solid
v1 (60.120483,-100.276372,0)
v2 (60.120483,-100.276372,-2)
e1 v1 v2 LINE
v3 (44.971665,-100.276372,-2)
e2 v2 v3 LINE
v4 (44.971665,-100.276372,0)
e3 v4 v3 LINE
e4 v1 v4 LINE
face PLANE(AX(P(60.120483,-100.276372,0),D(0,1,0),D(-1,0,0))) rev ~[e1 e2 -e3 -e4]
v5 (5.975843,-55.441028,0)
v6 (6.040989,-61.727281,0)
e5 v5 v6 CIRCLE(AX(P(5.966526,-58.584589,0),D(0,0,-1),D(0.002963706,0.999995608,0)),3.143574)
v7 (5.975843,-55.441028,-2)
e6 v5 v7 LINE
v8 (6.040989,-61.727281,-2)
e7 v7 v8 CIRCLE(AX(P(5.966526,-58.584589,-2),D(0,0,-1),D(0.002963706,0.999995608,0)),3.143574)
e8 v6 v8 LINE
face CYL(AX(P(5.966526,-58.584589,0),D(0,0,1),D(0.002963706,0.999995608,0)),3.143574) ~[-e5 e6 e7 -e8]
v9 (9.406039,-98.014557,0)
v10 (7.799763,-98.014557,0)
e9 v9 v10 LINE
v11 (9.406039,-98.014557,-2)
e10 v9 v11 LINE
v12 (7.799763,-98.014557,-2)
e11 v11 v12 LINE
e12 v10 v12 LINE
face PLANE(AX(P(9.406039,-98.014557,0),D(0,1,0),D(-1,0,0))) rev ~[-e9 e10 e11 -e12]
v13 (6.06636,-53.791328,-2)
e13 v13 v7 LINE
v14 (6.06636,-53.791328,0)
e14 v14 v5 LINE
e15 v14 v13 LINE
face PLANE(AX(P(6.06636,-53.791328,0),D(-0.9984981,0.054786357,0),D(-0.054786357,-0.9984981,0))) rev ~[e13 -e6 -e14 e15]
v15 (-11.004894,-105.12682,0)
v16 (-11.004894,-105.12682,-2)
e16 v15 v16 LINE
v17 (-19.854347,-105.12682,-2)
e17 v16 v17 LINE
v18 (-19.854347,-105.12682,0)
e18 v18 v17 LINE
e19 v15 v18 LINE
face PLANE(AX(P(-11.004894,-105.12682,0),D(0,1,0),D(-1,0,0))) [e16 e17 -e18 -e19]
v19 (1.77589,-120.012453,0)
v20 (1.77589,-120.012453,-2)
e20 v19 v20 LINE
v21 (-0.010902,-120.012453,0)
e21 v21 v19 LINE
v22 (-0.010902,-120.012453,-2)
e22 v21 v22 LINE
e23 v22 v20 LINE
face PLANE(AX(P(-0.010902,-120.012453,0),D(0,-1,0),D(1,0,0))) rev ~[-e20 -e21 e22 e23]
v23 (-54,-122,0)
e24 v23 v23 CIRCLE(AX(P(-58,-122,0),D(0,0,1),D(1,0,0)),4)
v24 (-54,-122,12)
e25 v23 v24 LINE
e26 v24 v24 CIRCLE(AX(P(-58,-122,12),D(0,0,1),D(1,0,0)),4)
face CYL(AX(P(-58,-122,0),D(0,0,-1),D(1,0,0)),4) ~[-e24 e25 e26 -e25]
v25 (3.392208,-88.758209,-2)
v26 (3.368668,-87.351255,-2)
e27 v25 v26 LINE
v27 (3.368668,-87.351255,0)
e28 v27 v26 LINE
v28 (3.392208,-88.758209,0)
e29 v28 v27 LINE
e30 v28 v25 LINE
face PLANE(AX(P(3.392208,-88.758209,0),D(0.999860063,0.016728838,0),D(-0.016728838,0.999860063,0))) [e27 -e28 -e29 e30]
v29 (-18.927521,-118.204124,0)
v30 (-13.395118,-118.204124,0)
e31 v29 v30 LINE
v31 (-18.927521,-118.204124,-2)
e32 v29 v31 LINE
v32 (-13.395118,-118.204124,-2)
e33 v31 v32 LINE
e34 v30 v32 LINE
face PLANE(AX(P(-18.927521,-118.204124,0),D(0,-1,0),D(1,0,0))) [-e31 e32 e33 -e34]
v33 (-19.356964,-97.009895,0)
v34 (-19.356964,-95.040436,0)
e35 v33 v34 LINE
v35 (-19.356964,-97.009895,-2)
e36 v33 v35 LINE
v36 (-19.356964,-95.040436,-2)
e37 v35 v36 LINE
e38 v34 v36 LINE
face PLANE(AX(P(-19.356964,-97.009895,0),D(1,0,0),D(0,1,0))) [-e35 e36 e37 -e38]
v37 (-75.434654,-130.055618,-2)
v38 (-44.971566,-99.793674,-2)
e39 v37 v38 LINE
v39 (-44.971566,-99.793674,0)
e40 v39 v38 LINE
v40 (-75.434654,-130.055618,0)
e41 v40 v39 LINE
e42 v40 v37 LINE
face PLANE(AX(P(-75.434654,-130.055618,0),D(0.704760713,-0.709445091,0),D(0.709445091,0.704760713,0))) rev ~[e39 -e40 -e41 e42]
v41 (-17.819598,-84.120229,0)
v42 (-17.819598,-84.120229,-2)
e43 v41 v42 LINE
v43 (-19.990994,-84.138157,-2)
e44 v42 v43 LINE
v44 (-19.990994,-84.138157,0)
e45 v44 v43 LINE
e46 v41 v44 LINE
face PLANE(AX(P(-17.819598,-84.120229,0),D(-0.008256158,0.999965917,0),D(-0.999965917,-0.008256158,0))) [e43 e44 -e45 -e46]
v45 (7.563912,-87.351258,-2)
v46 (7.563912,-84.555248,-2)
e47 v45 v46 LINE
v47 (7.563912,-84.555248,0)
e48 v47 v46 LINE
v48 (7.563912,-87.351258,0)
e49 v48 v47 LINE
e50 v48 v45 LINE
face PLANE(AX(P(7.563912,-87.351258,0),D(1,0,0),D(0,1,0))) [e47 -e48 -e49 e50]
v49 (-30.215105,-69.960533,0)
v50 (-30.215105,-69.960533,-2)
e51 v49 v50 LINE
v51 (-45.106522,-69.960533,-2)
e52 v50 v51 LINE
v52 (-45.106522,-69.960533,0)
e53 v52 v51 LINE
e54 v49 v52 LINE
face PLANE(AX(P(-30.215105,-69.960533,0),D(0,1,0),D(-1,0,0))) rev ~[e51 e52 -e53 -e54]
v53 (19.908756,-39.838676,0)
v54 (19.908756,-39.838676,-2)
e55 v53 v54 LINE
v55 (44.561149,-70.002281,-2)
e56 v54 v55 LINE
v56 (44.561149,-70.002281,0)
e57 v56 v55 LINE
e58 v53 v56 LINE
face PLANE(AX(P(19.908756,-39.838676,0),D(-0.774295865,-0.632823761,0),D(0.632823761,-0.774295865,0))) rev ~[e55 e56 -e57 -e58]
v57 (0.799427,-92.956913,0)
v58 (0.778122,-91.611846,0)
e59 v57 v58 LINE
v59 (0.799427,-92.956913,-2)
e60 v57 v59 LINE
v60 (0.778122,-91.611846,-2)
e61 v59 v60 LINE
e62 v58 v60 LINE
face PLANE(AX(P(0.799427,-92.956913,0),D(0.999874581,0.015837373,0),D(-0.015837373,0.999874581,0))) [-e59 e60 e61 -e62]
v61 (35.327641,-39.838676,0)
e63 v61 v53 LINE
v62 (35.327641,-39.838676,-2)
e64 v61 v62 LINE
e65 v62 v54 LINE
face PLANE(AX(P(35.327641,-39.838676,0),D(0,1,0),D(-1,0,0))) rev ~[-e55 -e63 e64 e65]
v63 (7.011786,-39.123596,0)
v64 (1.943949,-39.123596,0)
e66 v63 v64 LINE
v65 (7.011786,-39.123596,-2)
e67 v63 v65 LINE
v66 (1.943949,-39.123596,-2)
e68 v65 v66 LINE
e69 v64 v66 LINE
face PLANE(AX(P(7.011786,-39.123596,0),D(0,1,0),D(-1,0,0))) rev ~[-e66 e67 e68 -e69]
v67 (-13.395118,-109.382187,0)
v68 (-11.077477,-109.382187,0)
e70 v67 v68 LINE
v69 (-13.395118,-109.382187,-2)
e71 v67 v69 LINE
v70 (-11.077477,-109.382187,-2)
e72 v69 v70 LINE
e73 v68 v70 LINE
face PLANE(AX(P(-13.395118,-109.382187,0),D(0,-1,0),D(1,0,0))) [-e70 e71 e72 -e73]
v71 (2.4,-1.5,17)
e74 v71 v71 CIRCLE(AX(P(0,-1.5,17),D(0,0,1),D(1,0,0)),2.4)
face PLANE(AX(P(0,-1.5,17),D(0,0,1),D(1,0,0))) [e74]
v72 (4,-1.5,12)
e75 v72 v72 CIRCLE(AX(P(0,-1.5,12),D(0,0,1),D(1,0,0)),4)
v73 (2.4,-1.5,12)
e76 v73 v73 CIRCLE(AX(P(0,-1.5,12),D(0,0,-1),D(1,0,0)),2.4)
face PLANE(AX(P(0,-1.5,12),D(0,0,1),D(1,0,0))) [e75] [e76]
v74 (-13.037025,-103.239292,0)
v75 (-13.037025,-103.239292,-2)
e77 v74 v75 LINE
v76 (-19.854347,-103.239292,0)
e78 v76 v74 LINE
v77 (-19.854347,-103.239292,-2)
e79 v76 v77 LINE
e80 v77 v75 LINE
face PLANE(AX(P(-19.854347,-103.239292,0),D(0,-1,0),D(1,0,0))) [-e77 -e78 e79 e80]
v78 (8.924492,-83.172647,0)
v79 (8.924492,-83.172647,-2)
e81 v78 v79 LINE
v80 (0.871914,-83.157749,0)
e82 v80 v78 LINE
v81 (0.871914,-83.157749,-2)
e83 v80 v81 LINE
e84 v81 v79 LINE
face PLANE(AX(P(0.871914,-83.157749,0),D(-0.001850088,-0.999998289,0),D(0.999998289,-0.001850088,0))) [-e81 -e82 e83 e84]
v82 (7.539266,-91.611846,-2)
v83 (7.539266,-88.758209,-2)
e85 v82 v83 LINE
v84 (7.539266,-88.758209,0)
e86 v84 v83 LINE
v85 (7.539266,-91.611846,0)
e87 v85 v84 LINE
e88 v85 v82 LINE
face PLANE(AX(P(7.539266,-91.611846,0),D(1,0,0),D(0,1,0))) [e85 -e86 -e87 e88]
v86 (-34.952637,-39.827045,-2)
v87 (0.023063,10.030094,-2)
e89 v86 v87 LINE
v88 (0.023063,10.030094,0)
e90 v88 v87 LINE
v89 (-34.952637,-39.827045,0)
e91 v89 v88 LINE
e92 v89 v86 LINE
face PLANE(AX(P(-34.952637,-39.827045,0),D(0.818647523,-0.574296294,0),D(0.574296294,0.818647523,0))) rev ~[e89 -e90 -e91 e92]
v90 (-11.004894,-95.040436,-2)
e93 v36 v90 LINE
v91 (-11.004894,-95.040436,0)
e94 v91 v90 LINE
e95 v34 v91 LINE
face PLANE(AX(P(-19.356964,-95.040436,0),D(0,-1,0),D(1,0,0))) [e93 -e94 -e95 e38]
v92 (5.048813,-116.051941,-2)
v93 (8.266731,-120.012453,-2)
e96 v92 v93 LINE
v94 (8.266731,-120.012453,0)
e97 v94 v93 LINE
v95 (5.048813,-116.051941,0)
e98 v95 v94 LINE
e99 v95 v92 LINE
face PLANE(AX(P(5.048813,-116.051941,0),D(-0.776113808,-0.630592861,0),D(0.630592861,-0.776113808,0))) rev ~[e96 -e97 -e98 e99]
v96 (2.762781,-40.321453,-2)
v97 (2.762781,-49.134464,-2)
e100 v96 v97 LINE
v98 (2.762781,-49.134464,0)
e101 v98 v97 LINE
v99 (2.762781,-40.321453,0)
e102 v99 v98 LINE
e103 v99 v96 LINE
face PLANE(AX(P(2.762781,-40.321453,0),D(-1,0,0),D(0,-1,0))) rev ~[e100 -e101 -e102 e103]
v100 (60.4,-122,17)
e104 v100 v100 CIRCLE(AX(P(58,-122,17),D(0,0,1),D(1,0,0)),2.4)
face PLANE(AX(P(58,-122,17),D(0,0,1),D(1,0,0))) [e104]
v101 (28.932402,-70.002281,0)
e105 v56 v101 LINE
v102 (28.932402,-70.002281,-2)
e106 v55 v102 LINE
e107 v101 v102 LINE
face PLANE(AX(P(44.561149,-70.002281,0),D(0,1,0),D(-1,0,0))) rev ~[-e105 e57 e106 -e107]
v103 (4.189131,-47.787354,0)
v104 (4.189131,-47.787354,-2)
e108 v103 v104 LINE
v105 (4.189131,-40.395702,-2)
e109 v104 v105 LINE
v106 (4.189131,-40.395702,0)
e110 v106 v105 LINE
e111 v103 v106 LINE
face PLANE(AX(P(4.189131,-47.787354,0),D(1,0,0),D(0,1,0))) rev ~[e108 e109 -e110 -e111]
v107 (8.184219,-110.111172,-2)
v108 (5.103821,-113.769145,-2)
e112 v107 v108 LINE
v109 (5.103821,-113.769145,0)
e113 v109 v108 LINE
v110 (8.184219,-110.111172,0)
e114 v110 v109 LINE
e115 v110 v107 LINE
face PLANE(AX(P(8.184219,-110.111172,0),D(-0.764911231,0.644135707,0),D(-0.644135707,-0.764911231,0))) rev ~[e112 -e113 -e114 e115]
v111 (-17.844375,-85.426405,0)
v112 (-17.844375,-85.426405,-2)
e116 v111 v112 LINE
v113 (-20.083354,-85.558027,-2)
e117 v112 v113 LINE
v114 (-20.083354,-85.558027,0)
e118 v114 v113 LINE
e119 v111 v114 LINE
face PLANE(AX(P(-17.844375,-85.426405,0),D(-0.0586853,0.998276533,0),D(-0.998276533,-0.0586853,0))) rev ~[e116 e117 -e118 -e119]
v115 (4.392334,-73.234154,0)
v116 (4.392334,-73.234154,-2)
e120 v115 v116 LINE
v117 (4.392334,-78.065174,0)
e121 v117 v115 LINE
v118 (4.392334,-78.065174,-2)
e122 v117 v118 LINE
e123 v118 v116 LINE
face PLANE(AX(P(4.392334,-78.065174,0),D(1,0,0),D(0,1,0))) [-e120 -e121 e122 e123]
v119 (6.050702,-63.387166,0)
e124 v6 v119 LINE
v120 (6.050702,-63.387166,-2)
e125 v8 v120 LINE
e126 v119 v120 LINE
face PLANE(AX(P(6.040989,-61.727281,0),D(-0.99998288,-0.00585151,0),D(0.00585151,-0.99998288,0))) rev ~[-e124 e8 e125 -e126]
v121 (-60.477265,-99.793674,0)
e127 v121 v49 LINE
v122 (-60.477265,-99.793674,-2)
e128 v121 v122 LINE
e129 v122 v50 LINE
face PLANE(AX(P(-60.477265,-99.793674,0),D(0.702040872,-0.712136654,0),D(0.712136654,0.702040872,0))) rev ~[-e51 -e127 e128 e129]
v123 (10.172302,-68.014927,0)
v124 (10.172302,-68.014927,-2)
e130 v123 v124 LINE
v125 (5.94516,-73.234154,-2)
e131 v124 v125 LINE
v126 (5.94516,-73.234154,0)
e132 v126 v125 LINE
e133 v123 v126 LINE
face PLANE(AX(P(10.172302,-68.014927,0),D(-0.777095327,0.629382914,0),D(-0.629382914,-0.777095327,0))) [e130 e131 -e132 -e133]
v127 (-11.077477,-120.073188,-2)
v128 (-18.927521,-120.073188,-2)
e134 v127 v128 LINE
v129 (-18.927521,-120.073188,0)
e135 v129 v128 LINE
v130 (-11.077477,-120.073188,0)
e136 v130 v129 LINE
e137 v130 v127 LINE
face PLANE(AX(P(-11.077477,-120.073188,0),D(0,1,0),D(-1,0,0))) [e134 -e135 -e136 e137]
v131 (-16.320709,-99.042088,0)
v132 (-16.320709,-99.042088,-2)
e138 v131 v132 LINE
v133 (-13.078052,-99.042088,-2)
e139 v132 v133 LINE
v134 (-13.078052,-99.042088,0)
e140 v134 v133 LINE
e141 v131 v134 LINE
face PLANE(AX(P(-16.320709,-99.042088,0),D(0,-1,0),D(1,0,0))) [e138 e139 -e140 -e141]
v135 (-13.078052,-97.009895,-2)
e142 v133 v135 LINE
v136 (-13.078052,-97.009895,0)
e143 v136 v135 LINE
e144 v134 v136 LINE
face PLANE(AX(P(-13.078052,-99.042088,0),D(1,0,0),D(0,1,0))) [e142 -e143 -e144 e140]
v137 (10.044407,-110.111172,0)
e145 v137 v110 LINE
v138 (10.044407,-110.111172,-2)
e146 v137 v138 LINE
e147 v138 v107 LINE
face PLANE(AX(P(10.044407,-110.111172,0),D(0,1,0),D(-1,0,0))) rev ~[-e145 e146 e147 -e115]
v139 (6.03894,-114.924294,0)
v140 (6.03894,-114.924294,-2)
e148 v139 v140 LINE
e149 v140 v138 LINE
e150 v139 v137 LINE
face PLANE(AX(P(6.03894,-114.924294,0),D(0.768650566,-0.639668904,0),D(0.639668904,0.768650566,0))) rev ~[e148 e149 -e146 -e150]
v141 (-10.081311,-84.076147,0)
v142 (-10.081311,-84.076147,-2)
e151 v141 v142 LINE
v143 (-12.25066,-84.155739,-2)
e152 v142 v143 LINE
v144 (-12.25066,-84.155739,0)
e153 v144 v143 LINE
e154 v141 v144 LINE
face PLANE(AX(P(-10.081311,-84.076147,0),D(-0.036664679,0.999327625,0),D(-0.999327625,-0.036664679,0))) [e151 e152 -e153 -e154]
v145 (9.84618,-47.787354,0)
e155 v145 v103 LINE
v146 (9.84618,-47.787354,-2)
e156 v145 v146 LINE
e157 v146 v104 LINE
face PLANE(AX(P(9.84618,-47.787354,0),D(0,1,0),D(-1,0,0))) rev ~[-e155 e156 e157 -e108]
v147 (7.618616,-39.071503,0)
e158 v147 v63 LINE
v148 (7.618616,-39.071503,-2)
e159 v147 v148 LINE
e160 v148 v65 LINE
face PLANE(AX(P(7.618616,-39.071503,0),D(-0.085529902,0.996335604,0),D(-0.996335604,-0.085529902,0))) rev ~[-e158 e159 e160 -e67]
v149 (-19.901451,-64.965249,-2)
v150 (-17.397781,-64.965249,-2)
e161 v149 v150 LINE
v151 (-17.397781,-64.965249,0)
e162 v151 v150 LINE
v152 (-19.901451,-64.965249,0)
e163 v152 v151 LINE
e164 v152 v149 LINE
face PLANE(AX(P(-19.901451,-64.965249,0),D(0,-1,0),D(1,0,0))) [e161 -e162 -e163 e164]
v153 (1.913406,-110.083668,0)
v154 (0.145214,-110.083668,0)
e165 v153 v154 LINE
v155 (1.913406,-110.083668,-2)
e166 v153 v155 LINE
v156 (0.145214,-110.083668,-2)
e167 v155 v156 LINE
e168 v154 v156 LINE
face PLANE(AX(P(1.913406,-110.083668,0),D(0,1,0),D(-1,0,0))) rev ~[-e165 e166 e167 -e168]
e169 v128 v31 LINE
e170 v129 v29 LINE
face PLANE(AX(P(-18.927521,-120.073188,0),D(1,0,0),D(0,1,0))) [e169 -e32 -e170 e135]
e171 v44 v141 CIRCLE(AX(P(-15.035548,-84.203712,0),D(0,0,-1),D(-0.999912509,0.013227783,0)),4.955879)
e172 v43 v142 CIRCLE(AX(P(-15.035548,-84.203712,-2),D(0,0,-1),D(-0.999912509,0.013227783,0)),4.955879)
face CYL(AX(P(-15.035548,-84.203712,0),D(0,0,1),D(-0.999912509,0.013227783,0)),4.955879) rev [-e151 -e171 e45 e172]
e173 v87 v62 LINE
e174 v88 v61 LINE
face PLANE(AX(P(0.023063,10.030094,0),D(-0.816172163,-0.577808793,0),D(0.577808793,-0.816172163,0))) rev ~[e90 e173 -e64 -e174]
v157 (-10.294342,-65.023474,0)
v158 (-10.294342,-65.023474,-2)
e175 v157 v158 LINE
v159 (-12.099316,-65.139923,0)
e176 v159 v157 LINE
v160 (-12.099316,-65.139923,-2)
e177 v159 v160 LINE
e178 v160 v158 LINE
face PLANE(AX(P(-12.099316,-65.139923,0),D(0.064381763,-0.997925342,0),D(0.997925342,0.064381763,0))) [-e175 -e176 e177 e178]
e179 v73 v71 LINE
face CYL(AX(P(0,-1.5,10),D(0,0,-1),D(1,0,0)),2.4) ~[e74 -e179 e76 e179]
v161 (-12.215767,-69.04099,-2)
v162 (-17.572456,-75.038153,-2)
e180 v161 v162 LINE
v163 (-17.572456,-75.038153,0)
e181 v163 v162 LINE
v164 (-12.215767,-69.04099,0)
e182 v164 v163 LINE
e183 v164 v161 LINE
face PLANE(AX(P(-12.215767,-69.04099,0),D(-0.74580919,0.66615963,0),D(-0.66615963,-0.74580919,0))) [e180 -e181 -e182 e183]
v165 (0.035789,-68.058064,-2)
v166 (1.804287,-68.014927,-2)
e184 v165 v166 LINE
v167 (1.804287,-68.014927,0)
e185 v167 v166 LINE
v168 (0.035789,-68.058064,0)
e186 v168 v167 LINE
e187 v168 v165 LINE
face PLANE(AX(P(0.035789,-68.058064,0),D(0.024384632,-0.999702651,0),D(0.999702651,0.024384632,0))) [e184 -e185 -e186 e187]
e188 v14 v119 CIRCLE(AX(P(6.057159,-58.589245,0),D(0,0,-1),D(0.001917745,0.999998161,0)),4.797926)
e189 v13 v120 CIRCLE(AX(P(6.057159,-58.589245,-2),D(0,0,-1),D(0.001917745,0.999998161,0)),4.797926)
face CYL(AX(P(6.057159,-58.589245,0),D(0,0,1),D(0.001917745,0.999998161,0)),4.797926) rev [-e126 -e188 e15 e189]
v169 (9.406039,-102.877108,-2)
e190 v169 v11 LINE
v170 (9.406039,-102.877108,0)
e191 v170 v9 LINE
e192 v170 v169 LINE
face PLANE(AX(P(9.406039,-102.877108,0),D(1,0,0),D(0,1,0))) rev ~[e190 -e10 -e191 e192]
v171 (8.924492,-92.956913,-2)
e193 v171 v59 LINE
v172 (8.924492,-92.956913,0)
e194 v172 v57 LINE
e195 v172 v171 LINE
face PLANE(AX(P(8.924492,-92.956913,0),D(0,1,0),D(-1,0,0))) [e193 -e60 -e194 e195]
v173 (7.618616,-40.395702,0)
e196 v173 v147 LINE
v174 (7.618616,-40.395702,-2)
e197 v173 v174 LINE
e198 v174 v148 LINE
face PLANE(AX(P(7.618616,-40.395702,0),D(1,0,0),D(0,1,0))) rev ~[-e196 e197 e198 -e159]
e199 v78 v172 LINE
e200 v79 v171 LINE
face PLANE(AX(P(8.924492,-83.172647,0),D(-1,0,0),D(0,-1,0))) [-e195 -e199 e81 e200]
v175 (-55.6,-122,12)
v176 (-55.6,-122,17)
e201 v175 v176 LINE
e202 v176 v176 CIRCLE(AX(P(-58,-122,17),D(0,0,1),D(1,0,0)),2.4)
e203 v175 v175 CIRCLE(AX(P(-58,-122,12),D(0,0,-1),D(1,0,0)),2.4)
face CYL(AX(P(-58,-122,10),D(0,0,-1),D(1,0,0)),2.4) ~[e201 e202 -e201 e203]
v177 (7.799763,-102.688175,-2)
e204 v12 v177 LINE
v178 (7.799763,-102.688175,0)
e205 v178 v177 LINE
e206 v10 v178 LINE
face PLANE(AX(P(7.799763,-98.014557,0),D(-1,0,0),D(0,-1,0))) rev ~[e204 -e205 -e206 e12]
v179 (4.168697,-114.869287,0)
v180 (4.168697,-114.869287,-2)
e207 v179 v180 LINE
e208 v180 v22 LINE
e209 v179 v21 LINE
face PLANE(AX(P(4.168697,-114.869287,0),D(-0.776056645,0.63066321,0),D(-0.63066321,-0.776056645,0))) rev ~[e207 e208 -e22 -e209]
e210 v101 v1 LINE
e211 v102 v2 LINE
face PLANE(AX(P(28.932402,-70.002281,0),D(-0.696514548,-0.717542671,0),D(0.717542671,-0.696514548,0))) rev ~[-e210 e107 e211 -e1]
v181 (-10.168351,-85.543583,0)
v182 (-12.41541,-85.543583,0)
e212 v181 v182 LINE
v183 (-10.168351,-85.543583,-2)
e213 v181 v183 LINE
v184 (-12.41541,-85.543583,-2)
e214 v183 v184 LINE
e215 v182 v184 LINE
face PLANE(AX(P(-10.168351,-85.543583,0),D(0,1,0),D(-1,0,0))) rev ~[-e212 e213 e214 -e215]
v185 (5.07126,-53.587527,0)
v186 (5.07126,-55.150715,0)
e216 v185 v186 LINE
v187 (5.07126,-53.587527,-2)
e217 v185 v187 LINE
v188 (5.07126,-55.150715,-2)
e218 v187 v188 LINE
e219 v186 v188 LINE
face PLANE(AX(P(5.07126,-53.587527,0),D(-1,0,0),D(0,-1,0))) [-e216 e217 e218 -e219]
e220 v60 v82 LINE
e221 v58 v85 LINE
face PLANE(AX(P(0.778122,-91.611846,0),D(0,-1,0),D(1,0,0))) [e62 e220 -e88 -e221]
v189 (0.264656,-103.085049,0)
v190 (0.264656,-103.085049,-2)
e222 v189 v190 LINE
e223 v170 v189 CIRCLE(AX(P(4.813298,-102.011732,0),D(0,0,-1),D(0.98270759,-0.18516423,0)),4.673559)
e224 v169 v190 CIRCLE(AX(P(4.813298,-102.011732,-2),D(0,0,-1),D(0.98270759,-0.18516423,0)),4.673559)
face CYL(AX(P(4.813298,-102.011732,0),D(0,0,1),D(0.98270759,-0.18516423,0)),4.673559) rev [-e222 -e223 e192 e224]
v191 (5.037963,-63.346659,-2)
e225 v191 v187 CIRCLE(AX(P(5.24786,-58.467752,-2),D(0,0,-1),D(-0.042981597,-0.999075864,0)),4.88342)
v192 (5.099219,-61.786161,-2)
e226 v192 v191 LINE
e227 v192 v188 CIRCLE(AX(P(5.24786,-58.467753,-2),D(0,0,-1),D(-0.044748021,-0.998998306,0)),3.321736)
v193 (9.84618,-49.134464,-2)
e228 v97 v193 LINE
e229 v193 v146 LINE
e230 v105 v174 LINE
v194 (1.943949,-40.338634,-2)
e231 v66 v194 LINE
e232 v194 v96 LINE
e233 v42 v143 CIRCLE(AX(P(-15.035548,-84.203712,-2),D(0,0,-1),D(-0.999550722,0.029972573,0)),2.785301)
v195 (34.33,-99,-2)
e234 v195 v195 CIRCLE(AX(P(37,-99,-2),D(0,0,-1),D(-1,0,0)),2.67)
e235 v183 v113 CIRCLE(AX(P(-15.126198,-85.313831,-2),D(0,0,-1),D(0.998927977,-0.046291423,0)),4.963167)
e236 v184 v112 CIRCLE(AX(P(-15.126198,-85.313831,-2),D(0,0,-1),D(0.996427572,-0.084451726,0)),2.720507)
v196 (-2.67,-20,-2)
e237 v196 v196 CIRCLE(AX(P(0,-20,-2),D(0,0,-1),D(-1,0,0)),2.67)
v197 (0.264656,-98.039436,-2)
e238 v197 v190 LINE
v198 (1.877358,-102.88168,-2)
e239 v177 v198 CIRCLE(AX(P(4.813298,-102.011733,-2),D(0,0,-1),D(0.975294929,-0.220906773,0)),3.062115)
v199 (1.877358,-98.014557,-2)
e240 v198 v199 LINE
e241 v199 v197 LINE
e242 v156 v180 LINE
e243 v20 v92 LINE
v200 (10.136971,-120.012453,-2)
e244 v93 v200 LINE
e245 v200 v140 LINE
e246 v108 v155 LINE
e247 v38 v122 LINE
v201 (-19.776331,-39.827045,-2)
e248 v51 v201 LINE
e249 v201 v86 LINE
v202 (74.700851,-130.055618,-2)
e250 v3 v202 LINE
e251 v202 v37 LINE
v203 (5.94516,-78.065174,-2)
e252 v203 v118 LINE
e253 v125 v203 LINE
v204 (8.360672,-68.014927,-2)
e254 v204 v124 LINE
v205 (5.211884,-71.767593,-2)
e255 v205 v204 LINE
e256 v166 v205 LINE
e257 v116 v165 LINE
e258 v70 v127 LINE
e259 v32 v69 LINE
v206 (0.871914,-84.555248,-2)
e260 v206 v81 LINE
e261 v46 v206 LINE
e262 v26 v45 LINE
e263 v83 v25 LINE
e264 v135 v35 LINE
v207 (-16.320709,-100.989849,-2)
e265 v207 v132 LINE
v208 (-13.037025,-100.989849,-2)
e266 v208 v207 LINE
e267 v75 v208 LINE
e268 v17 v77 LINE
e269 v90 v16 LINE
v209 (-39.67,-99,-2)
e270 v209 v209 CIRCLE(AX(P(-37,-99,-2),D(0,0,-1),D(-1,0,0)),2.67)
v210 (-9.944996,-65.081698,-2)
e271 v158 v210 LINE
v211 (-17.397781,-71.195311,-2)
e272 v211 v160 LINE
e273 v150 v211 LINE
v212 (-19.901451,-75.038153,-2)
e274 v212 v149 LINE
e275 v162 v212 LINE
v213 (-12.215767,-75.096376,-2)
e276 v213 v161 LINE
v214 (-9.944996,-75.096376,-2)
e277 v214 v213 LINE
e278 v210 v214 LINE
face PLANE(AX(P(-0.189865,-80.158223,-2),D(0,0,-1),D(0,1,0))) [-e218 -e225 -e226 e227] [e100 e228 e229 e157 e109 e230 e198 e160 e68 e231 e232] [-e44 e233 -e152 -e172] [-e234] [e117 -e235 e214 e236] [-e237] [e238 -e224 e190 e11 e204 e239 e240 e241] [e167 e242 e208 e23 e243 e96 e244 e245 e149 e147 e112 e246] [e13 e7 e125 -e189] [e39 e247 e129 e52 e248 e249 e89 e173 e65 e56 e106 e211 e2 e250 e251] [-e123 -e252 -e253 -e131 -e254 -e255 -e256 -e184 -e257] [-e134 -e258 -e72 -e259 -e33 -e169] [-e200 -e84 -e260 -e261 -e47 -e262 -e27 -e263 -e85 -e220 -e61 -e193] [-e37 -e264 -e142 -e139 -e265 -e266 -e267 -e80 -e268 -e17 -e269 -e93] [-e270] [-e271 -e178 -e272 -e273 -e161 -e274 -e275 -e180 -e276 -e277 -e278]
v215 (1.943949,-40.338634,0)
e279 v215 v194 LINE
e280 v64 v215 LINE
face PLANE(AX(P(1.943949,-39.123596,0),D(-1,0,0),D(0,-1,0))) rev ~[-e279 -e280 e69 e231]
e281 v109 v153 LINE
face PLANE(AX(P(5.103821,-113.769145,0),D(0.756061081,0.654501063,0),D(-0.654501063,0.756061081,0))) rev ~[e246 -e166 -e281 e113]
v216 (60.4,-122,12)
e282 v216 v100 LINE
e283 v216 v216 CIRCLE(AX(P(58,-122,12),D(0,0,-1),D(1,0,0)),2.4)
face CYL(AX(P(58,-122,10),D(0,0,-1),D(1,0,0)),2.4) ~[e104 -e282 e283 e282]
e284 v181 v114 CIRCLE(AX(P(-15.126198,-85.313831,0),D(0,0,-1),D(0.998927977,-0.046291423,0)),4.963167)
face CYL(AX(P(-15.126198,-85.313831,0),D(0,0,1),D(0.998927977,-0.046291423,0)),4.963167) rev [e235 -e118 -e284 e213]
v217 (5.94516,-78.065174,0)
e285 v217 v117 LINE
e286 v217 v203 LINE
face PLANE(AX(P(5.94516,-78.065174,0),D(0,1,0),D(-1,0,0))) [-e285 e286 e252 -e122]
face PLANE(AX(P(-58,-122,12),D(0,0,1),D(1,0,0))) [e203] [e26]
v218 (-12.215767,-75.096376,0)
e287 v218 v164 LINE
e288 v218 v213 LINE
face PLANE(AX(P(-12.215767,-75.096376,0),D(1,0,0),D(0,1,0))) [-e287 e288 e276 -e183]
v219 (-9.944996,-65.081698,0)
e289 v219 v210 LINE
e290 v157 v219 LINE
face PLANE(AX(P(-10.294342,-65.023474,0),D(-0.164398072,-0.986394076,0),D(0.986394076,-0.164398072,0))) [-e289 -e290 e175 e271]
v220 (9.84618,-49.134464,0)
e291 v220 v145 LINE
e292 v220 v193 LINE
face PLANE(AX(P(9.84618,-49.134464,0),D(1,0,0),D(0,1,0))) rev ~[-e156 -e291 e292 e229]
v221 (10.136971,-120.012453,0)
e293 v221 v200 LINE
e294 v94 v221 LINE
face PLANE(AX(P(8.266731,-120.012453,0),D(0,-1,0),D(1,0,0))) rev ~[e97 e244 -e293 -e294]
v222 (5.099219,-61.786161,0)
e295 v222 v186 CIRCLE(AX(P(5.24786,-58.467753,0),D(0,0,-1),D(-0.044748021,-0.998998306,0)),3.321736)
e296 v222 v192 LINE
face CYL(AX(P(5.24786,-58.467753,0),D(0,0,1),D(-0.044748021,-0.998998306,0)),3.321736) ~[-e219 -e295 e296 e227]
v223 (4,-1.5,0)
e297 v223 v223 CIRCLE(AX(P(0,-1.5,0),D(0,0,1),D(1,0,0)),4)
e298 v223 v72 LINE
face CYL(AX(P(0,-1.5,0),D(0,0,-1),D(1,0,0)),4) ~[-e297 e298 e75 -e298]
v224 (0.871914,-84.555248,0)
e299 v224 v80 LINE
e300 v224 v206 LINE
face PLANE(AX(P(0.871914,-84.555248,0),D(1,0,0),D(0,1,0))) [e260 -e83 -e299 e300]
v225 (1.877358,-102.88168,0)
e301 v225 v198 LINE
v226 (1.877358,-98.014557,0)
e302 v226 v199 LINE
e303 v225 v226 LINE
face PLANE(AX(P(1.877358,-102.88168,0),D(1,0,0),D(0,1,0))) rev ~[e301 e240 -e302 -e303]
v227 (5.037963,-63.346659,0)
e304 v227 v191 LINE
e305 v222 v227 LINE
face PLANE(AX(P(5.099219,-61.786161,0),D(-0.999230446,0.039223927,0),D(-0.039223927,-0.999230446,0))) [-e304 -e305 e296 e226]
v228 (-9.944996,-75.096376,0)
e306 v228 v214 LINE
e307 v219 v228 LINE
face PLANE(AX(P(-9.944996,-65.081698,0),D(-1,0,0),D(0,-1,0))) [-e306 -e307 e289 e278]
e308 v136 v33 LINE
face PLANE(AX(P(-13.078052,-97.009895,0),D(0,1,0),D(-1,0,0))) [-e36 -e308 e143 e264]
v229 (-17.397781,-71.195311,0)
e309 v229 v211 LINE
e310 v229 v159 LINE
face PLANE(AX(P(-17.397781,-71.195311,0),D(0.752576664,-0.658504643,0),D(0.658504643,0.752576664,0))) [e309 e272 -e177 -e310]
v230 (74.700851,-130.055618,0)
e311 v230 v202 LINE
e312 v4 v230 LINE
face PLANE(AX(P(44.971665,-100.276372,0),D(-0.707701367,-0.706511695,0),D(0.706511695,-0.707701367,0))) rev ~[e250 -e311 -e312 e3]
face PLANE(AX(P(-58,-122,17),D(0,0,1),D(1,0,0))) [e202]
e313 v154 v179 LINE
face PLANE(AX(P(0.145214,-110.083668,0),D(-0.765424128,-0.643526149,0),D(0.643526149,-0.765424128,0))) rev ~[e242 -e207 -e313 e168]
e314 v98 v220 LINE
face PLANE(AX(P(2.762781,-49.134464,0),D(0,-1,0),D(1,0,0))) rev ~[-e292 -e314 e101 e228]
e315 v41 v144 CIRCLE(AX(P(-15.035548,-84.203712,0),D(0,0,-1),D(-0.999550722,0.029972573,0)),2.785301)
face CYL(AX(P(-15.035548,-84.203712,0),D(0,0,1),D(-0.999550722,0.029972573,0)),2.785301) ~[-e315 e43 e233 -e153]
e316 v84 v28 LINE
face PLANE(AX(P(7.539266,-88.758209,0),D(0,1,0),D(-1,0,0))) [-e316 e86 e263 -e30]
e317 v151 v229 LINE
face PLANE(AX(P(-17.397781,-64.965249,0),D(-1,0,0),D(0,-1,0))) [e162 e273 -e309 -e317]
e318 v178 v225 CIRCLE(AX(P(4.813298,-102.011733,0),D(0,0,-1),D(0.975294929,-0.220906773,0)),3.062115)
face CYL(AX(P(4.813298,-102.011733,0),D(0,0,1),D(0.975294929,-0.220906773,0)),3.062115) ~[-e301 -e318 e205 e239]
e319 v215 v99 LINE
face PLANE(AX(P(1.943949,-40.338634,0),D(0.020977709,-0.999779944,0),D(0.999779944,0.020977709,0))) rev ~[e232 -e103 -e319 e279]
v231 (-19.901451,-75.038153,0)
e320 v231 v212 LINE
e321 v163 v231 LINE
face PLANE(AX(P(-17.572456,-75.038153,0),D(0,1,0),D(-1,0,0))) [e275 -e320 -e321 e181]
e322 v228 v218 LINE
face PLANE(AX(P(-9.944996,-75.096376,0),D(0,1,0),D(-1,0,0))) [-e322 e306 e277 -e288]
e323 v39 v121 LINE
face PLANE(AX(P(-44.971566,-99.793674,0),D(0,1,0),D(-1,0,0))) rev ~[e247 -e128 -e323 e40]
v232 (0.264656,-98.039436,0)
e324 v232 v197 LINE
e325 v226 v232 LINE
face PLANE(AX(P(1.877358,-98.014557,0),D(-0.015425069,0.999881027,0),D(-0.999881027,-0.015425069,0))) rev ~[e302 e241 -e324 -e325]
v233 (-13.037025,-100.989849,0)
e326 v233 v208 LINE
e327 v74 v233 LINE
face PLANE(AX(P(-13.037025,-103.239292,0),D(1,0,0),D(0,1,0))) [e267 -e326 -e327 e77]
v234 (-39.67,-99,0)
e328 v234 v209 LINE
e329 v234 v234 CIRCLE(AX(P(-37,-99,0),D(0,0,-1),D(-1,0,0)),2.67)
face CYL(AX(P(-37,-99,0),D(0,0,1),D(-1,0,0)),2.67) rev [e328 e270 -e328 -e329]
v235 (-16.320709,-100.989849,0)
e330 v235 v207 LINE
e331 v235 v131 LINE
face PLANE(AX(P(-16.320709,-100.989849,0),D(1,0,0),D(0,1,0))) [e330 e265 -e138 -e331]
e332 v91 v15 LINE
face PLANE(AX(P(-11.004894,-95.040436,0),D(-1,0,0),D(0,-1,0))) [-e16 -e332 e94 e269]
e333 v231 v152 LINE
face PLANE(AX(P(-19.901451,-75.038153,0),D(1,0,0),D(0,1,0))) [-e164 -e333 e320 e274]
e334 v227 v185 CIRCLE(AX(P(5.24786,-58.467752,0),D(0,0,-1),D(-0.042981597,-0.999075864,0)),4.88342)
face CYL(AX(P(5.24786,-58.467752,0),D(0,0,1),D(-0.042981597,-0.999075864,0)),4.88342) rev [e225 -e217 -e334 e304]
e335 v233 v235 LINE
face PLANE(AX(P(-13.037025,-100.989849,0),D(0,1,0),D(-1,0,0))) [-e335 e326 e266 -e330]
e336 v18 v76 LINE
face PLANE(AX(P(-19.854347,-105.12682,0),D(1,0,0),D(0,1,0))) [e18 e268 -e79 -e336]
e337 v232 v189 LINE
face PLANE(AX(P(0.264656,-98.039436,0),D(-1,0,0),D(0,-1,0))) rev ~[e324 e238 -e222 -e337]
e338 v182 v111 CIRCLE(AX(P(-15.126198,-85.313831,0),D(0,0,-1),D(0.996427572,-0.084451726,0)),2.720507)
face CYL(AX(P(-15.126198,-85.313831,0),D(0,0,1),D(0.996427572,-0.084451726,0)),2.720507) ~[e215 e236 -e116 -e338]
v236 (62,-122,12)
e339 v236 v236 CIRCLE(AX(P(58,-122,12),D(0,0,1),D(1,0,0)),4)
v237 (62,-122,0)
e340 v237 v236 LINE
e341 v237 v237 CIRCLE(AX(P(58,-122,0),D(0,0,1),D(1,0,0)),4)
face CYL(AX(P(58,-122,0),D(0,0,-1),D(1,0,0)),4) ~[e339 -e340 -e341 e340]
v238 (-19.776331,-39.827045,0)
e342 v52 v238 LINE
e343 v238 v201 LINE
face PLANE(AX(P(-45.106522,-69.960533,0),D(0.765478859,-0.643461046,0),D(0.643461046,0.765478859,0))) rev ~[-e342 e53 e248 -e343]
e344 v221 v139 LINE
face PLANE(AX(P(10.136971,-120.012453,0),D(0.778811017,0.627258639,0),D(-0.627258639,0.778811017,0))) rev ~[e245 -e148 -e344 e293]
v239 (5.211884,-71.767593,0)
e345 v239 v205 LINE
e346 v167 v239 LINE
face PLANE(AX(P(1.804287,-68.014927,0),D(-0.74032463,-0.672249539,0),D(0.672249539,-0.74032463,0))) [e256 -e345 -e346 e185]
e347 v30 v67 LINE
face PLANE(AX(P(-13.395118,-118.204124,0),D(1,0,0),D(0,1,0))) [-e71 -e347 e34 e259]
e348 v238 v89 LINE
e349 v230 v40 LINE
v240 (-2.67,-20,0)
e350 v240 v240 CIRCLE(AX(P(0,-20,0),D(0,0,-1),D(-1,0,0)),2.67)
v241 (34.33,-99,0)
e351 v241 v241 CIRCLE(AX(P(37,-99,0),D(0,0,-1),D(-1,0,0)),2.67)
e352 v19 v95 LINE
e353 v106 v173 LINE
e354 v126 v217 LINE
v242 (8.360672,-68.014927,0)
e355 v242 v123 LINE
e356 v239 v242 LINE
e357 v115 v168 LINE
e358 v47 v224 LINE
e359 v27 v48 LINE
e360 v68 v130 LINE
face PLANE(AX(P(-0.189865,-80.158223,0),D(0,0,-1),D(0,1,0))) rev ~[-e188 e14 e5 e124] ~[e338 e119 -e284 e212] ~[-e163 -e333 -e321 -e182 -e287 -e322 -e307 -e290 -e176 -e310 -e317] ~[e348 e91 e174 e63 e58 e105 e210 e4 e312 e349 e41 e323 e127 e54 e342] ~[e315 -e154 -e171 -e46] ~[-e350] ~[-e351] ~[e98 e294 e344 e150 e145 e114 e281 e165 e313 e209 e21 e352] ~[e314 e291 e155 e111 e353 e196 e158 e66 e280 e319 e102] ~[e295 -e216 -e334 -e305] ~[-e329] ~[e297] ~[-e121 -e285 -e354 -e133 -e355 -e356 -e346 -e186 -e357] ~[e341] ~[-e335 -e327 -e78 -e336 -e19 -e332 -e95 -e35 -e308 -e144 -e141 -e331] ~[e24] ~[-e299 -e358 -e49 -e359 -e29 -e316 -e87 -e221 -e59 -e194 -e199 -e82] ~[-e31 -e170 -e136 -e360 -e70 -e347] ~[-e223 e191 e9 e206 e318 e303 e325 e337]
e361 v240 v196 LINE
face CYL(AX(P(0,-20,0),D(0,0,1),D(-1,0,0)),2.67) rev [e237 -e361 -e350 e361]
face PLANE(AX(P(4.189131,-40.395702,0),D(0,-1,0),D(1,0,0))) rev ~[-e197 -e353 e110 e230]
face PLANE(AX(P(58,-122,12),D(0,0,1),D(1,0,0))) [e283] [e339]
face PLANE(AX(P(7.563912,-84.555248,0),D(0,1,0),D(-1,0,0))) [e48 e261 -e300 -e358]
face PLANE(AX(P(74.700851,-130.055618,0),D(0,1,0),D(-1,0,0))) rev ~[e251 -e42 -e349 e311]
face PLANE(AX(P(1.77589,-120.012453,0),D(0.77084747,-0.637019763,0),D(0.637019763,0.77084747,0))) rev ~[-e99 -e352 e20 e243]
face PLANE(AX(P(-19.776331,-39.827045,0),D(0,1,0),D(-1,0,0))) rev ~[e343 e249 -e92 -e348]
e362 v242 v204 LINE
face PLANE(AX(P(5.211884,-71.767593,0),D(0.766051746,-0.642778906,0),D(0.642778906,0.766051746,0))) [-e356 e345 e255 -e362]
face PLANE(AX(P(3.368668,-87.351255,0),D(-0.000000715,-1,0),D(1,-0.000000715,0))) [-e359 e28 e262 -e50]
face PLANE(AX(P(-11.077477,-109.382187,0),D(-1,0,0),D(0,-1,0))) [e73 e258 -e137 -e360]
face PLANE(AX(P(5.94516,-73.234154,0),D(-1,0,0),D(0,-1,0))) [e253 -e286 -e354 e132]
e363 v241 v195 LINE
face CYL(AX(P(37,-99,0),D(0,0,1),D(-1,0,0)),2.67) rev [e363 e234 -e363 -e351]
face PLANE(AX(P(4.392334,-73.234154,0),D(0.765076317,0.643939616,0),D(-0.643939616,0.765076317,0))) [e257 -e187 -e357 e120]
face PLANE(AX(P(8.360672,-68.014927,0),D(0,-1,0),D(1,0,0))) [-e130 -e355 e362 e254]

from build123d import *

# Parameters (mm, degrees)
CYLINDER006_R          = 2.4
CYLINDER006_DEPTH      = 7
CYLINDER004_R          = 4
CYLINDER004_DEPTH      = 12
CYLINDER007_R          = 2.4
CYLINDER007_DEPTH      = 7
CYLINDER005_R          = 4
CYLINDER005_DEPTH      = 12
CYLINDER_R             = 2.67
CYLINDER_DEPTH         = 2
CYLINDER001_R          = 2.67
CYLINDER001_DEPTH      = 2
CYLINDER002_R          = 2.67
CYLINDER002_DEPTH      = 2
PAD005_DEPTH           = 2
PAD006_DEPTH           = 2
PAD007_DEPTH           = 2
PAD008_DEPTH           = 2
PAD009_DEPTH           = 2
PAD010_DEPTH           = 2
PAD011_DEPTH           = 2
PAD013_DEPTH           = 2
PAD014_DEPTH           = 2
PAD015_DEPTH           = 2
PAD001_DEPTH           = 2
PAD004_DEPTH           = 2
PAD_DEPTH              = 2
CUT014_PLACEMENT_ANGLE = 180
CYLINDER003_R          = 4
CYLINDER003_DEPTH      = 12
CYLINDER008_R          = 2.4
CYLINDER008_DEPTH      = 7


with BuildPart() as cylindre006:
    # Cylinder006 → Cylinder006 (new body)
    with BuildSketch(Plane.XY.offset(10)):
        Circle(CYLINDER006_R)
    extrude(amount=CYLINDER006_DEPTH)


with BuildPart() as fixdroite:
    # Cylinder004 → Cylinder004 (new body)
    with BuildSketch(Plane.XY):
        Circle(CYLINDER004_R)
    extrude(amount=CYLINDER004_DEPTH)

    # Fusion001: union Cylindre006
    add(cylindre006.part)


with BuildPart() as fixdroite_1:
    # Fusion001 placement: moved
    add(fixdroite.part.moved(Location((58, -122, 0))))


with BuildPart() as cylindre007:
    # Cylinder007 → Cylinder007 (new body)
    with BuildSketch(Plane.XY.offset(10)):
        Circle(CYLINDER007_R)
    extrude(amount=CYLINDER007_DEPTH)


with BuildPart() as fixhaut:
    # Cylinder005 → Cylinder005 (new body)
    with BuildSketch(Plane.XY):
        Circle(CYLINDER005_R)
    extrude(amount=CYLINDER005_DEPTH)

    # Fusion002: union Cylindre007
    add(cylindre007.part)


with BuildPart() as fixhaut_1:
    # Fusion002 placement: moved
    add(fixhaut.part.moved(Location((0, -1.5, 0))))


with BuildPart() as ledh:
    # Cylinder → Cylinder (new body)
    with BuildSketch(Plane(origin=(0, -20, 0), x_dir=(1, 0, 0), z_dir=(0, 0, 1))):
        Circle(CYLINDER_R)
    extrude(amount=CYLINDER_DEPTH)


with BuildPart() as ledg:
    # Cylinder001 → Cylinder001 (new body)
    with BuildSketch(Plane(origin=(-37, -99, 0), x_dir=(1, 0, 0), z_dir=(0, 0, 1))):
        Circle(CYLINDER001_R)
    extrude(amount=CYLINDER001_DEPTH)


with BuildPart() as ledd:
    # Cylinder002 → Cylinder002 (new body)
    with BuildSketch(Plane(origin=(37, -99, 0), x_dir=(1, 0, 0), z_dir=(0, 0, 1))):
        Circle(CYLINDER002_R)
    extrude(amount=CYLINDER002_DEPTH)


with BuildPart() as pad005:
    # Sketch003 → Pad005 (new body)
    with BuildSketch(Plane(origin=(11, -73, 0), x_dir=(1, 0, 0), z_dir=(0, 0, 1))):
        with BuildLine():
            ThreePointArc((-16.037963, 9.653341), (-11.364469, 14.54891), (-16.07126, 19.412473))
            Line((-16.07126, 19.412473), (-16.07126, 17.849285))
            ThreePointArc((-16.099219, 11.213839), (-12.926154, 14.518251), (-16.07126, 17.849285))
            Line((-16.099219, 11.213839), (-16.037963, 9.653341))
        make_face()
    extrude(amount=PAD005_DEPTH)


with BuildPart() as pad006:
    # Sketch004 → Pad006 (new body)
    with BuildSketch(Plane(origin=(50, -28, 0), x_dir=(1, 0, 0), z_dir=(0, 0, 1))):
        Polygon((-60.172302, -40.014927), (-55.94516, -45.234154), (-55.94516, -50.065174), (-54.392334, -50.065174), (-54.392334, -45.234154), (-50.035789, -40.058064), (-51.804287, -40.014927), (-55.211884, -43.767593), (-58.360672, -40.014927), align=None)
    extrude(amount=PAD006_DEPTH)


with BuildPart() as pad007:
    # Sketch005 → Pad007 (new body)
    with BuildSketch(Plane(origin=(51, -113, 0), x_dir=(1, 0, 0), z_dir=(0, 0, 1))):
        Polygon((-59.924492, 29.827353), (-59.924492, 20.043087), (-51.799427, 20.043087), (-51.778122, 21.388154), (-58.539266, 21.388154), (-58.539266, 24.241791), (-54.392208, 24.241791), (-54.368668, 25.648745), (-58.563912, 25.648742), (-58.563912, 28.444752), (-51.871914, 28.444752), (-51.871914, 29.842251), align=None)
    extrude(amount=PAD007_DEPTH)


with BuildPart() as pad008:
    # Sketch006 → Pad008 (new body)
    with BuildSketch(Plane(origin=(40, -88, 0), x_dir=(1, 0, 0), z_dir=(0, 0, 1))):
        with BuildLine():
            ThreePointArc((-49.406039, -14.877108), (-44.91958, -18.684082), (-40.264656, -15.085049))
            Line((-40.264656, -10.039436), (-40.264656, -15.085049))
            Line((-41.877358, -10.014557), (-40.264656, -10.039436))
            Line((-41.877358, -14.88168), (-41.877358, -10.014557))
            ThreePointArc((-47.799763, -14.688175), (-44.913294, -17.072215), (-41.877358, -14.88168))
            Line((-47.799763, -10.014557), (-47.799763, -14.688175))
            Line((-49.406039, -10.014557), (-47.799763, -10.014557))
            Line((-49.406039, -14.877108), (-49.406039, -10.014557))
        make_face()
    extrude(amount=PAD008_DEPTH)


with BuildPart() as pad009:
    # Sketch007 → Pad009 (new body)
    with BuildSketch(Plane(origin=(40, -100, 0), x_dir=(1, 0, 0), z_dir=(0, 0, 1))):
        Polygon((-50.044407, -10.111172), (-48.184219, -10.111172), (-45.103821, -13.769145), (-41.913406, -10.083668), (-40.145214, -10.083668), (-44.168697, -14.869287), (-39.989098, -20.012453), (-41.77589, -20.012453), (-45.048813, -16.051941), (-48.266731, -20.012453), (-50.136971, -20.012453), (-46.03894, -14.924294), align=None)
    extrude(amount=PAD009_DEPTH)


with BuildPart() as pad010:
    # Sketch008 → Pad010 (new body)
    with BuildSketch(Plane(origin=(-50, -55, 0), x_dir=(1, 0, 0), z_dir=(0, 0, 1))):
        Polygon((59.944996, -10.081698), (59.944996, -20.096376), (62.215767, -20.096376), (62.215767, -14.04099), (67.572456, -20.038153), (69.901451, -20.038153), (69.901451, -9.965249), (67.397781, -9.965249), (67.397781, -16.195311), (62.099316, -10.139923), (60.294342, -10.023474), align=None)
    extrude(amount=PAD010_DEPTH)


with BuildPart() as pad011:
    # Sketch009 → Pad011 (new body)
    with BuildSketch(Plane(origin=(-50, -49, 0), x_dir=(1, 0, 0), z_dir=(0, 0, 1))):
        with BuildLine():
            ThreePointArc((69.990994, -35.138157), (65.066559, -30.24793), (60.081311, -35.076147))
            Line((60.081311, -35.076147), (62.25066, -35.155739))
            ThreePointArc((67.819598, -35.120229), (65.017788, -32.418467), (62.25066, -35.155739))
            Line((67.819598, -35.120229), (69.990994, -35.138157))
        make_face()
    extrude(amount=PAD011_DEPTH)


with BuildPart() as pad013:
    # Sketch010 → Pad013 (new body)
    with BuildSketch(Plane(origin=(-50, -50, 0), x_dir=(1, 0, 0), z_dir=(0, 0, 1))):
        with BuildLine():
            ThreePointArc((60.168351, -35.543583), (65.118967, -40.276993), (70.083354, -35.558027))
            Line((67.844375, -35.426405), (70.083354, -35.558027))
            ThreePointArc((62.41541, -35.543583), (65.184903, -38.033705), (67.844375, -35.426405))
            Line((60.168351, -35.543583), (62.41541, -35.543583))
        make_face()
    extrude(amount=PAD013_DEPTH)


with BuildPart() as pad014:
    # Sketch011 → Pad014 (new body)
    with BuildSketch(Plane(origin=(-49, -45, 0), x_dir=(1, 0, 0), z_dir=(0, 0, 1))):
        Polygon((60.004894, -50.040436), (60.004894, -60.12682), (68.854347, -60.12682), (68.854347, -58.239292), (62.037025, -58.239292), (62.037025, -55.989849), (65.320709, -55.989849), (65.320709, -54.042088), (62.078052, -54.042088), (62.078052, -52.009895), (68.356964, -52.009895), (68.356964, -50.040436), align=None)
    extrude(amount=PAD014_DEPTH)


with BuildPart() as pad015:
    # Sketch012 → Pad015 (new body)
    with BuildSketch(Plane(origin=(-59, -10, 0), x_dir=(1, 0, 0), z_dir=(0, 0, 1))):
        Polygon((70.077477, -99.382187), (70.077477, -110.073188), (77.927521, -110.073188), (77.927521, -108.204124), (72.395118, -108.204124), (72.395118, -99.382187), align=None)
    extrude(amount=PAD015_DEPTH)


with BuildPart() as pad001:
    # Sketch001 → Pad001 (new body)
    with BuildSketch(Plane(origin=(24, -79, 0), x_dir=(1, 0, 0), z_dir=(0, 0, 1))):
        Polygon((-31.011786, 39.876404), (-25.943949, 39.876404), (-25.943949, 38.661366), (-26.762781, 38.678547), (-26.762781, 29.865536), (-33.84618, 29.865536), (-33.84618, 31.212646), (-28.189131, 31.212646), (-28.189131, 38.604298), (-31.618616, 38.604298), (-31.618616, 39.928497), align=None)
    extrude(amount=PAD001_DEPTH)


with BuildPart() as pad004:
    # Sketch002 → Pad004 (new body)
    with BuildSketch(Plane(origin=(23, -75, 0), x_dir=(1, 0, 0), z_dir=(0, 0, 1))):
        with BuildLine():
            ThreePointArc((-29.06636, 21.208672), (-33.855078, 16.402926), (-29.050702, 11.612834))
            Line((-29.040989, 13.272719), (-29.050702, 11.612834))
            ThreePointArc((-28.975843, 19.558972), (-32.109932, 16.447987), (-29.040989, 13.272719))
            Line((-29.06636, 21.208672), (-28.975843, 19.558972))
        make_face()
    extrude(amount=PAD004_DEPTH)


with BuildPart() as cut014:
    # Sketch → Pad (new body)
    with BuildSketch(Plane(origin=(0, 0, 0), x_dir=(0, 1, 0), z_dir=(0, 0, 1))):
        Polygon((-130.055618, 74.700851), (-130.055618, -75.434654), (-99.793674, -44.971566), (-99.793674, -60.477265), (-69.960533, -30.215105), (-69.960533, -45.106522), (-39.827045, -19.776331), (-39.827045, -34.952637), (10.030094, 0.023063), (-39.838676, 35.327641), (-39.838676, 19.908756), (-70.002281, 44.561149), (-70.002281, 28.932402), (-100.276372, 60.120483), (-100.276372, 44.971665), align=None)
    extrude(amount=PAD_DEPTH)

    # Cut001: cut Pad004
    add(pad004.part, mode=Mode.SUBTRACT)

    # Cut: cut Pad001
    add(pad001.part, mode=Mode.SUBTRACT)

    # Cut002: cut Pad015
    add(pad015.part, mode=Mode.SUBTRACT)

    # Cut003: cut Pad014
    add(pad014.part, mode=Mode.SUBTRACT)

    # Cut004: cut Pad013
    add(pad013.part, mode=Mode.SUBTRACT)

    # Cut005: cut Pad011
    add(pad011.part, mode=Mode.SUBTRACT)

    # Cut006: cut Pad010
    add(pad010.part, mode=Mode.SUBTRACT)

    # Cut007: cut Pad009
    add(pad009.part, mode=Mode.SUBTRACT)

    # Cut008: cut Pad008
    add(pad008.part, mode=Mode.SUBTRACT)

    # Cut009: cut Pad007
    add(pad007.part, mode=Mode.SUBTRACT)

    # Cut010: cut Pad006
    add(pad006.part, mode=Mode.SUBTRACT)

    # Cut011: cut Pad005
    add(pad005.part, mode=Mode.SUBTRACT)

    # Cut012: cut LedD
    add(ledd.part, mode=Mode.SUBTRACT)

    # Cut013: cut ledG
    add(ledg.part, mode=Mode.SUBTRACT)

    # Cut014: cut LedH
    add(ledh.part, mode=Mode.SUBTRACT)


with BuildPart() as cut014_1:
    # Cut014 placement: moved
    add(cut014.part.rotate(Axis((0, 0, 0), (0, 1, 0)), CUT014_PLACEMENT_ANGLE))


with BuildPart() as cylindre003:
    # Cylinder003 → Cylinder003 (new body)
    with BuildSketch(Plane.XY):
        Circle(CYLINDER003_R)
    extrude(amount=CYLINDER003_DEPTH)


with BuildPart() as fusion005:
    # Cylinder008 → Cylinder008 (new body)
    with BuildSketch(Plane.XY.offset(10)):
        Circle(CYLINDER008_R)
    extrude(amount=CYLINDER008_DEPTH)

    # Fusion: union Cylindre003
    add(cylindre003.part)


with BuildPart() as fusion005_1:
    # Fusion placement: moved
    add(fusion005.part.moved(Location((-58, -122, 0))))

    # Fusion003: union Cut014
    add(cut014_1.part)

    # Fusion004: union FixHaut
    add(fixhaut_1.part)

    # Fusion005: union FixDroite
    add(fixdroite_1.part)


solid = fusion005_1.part
